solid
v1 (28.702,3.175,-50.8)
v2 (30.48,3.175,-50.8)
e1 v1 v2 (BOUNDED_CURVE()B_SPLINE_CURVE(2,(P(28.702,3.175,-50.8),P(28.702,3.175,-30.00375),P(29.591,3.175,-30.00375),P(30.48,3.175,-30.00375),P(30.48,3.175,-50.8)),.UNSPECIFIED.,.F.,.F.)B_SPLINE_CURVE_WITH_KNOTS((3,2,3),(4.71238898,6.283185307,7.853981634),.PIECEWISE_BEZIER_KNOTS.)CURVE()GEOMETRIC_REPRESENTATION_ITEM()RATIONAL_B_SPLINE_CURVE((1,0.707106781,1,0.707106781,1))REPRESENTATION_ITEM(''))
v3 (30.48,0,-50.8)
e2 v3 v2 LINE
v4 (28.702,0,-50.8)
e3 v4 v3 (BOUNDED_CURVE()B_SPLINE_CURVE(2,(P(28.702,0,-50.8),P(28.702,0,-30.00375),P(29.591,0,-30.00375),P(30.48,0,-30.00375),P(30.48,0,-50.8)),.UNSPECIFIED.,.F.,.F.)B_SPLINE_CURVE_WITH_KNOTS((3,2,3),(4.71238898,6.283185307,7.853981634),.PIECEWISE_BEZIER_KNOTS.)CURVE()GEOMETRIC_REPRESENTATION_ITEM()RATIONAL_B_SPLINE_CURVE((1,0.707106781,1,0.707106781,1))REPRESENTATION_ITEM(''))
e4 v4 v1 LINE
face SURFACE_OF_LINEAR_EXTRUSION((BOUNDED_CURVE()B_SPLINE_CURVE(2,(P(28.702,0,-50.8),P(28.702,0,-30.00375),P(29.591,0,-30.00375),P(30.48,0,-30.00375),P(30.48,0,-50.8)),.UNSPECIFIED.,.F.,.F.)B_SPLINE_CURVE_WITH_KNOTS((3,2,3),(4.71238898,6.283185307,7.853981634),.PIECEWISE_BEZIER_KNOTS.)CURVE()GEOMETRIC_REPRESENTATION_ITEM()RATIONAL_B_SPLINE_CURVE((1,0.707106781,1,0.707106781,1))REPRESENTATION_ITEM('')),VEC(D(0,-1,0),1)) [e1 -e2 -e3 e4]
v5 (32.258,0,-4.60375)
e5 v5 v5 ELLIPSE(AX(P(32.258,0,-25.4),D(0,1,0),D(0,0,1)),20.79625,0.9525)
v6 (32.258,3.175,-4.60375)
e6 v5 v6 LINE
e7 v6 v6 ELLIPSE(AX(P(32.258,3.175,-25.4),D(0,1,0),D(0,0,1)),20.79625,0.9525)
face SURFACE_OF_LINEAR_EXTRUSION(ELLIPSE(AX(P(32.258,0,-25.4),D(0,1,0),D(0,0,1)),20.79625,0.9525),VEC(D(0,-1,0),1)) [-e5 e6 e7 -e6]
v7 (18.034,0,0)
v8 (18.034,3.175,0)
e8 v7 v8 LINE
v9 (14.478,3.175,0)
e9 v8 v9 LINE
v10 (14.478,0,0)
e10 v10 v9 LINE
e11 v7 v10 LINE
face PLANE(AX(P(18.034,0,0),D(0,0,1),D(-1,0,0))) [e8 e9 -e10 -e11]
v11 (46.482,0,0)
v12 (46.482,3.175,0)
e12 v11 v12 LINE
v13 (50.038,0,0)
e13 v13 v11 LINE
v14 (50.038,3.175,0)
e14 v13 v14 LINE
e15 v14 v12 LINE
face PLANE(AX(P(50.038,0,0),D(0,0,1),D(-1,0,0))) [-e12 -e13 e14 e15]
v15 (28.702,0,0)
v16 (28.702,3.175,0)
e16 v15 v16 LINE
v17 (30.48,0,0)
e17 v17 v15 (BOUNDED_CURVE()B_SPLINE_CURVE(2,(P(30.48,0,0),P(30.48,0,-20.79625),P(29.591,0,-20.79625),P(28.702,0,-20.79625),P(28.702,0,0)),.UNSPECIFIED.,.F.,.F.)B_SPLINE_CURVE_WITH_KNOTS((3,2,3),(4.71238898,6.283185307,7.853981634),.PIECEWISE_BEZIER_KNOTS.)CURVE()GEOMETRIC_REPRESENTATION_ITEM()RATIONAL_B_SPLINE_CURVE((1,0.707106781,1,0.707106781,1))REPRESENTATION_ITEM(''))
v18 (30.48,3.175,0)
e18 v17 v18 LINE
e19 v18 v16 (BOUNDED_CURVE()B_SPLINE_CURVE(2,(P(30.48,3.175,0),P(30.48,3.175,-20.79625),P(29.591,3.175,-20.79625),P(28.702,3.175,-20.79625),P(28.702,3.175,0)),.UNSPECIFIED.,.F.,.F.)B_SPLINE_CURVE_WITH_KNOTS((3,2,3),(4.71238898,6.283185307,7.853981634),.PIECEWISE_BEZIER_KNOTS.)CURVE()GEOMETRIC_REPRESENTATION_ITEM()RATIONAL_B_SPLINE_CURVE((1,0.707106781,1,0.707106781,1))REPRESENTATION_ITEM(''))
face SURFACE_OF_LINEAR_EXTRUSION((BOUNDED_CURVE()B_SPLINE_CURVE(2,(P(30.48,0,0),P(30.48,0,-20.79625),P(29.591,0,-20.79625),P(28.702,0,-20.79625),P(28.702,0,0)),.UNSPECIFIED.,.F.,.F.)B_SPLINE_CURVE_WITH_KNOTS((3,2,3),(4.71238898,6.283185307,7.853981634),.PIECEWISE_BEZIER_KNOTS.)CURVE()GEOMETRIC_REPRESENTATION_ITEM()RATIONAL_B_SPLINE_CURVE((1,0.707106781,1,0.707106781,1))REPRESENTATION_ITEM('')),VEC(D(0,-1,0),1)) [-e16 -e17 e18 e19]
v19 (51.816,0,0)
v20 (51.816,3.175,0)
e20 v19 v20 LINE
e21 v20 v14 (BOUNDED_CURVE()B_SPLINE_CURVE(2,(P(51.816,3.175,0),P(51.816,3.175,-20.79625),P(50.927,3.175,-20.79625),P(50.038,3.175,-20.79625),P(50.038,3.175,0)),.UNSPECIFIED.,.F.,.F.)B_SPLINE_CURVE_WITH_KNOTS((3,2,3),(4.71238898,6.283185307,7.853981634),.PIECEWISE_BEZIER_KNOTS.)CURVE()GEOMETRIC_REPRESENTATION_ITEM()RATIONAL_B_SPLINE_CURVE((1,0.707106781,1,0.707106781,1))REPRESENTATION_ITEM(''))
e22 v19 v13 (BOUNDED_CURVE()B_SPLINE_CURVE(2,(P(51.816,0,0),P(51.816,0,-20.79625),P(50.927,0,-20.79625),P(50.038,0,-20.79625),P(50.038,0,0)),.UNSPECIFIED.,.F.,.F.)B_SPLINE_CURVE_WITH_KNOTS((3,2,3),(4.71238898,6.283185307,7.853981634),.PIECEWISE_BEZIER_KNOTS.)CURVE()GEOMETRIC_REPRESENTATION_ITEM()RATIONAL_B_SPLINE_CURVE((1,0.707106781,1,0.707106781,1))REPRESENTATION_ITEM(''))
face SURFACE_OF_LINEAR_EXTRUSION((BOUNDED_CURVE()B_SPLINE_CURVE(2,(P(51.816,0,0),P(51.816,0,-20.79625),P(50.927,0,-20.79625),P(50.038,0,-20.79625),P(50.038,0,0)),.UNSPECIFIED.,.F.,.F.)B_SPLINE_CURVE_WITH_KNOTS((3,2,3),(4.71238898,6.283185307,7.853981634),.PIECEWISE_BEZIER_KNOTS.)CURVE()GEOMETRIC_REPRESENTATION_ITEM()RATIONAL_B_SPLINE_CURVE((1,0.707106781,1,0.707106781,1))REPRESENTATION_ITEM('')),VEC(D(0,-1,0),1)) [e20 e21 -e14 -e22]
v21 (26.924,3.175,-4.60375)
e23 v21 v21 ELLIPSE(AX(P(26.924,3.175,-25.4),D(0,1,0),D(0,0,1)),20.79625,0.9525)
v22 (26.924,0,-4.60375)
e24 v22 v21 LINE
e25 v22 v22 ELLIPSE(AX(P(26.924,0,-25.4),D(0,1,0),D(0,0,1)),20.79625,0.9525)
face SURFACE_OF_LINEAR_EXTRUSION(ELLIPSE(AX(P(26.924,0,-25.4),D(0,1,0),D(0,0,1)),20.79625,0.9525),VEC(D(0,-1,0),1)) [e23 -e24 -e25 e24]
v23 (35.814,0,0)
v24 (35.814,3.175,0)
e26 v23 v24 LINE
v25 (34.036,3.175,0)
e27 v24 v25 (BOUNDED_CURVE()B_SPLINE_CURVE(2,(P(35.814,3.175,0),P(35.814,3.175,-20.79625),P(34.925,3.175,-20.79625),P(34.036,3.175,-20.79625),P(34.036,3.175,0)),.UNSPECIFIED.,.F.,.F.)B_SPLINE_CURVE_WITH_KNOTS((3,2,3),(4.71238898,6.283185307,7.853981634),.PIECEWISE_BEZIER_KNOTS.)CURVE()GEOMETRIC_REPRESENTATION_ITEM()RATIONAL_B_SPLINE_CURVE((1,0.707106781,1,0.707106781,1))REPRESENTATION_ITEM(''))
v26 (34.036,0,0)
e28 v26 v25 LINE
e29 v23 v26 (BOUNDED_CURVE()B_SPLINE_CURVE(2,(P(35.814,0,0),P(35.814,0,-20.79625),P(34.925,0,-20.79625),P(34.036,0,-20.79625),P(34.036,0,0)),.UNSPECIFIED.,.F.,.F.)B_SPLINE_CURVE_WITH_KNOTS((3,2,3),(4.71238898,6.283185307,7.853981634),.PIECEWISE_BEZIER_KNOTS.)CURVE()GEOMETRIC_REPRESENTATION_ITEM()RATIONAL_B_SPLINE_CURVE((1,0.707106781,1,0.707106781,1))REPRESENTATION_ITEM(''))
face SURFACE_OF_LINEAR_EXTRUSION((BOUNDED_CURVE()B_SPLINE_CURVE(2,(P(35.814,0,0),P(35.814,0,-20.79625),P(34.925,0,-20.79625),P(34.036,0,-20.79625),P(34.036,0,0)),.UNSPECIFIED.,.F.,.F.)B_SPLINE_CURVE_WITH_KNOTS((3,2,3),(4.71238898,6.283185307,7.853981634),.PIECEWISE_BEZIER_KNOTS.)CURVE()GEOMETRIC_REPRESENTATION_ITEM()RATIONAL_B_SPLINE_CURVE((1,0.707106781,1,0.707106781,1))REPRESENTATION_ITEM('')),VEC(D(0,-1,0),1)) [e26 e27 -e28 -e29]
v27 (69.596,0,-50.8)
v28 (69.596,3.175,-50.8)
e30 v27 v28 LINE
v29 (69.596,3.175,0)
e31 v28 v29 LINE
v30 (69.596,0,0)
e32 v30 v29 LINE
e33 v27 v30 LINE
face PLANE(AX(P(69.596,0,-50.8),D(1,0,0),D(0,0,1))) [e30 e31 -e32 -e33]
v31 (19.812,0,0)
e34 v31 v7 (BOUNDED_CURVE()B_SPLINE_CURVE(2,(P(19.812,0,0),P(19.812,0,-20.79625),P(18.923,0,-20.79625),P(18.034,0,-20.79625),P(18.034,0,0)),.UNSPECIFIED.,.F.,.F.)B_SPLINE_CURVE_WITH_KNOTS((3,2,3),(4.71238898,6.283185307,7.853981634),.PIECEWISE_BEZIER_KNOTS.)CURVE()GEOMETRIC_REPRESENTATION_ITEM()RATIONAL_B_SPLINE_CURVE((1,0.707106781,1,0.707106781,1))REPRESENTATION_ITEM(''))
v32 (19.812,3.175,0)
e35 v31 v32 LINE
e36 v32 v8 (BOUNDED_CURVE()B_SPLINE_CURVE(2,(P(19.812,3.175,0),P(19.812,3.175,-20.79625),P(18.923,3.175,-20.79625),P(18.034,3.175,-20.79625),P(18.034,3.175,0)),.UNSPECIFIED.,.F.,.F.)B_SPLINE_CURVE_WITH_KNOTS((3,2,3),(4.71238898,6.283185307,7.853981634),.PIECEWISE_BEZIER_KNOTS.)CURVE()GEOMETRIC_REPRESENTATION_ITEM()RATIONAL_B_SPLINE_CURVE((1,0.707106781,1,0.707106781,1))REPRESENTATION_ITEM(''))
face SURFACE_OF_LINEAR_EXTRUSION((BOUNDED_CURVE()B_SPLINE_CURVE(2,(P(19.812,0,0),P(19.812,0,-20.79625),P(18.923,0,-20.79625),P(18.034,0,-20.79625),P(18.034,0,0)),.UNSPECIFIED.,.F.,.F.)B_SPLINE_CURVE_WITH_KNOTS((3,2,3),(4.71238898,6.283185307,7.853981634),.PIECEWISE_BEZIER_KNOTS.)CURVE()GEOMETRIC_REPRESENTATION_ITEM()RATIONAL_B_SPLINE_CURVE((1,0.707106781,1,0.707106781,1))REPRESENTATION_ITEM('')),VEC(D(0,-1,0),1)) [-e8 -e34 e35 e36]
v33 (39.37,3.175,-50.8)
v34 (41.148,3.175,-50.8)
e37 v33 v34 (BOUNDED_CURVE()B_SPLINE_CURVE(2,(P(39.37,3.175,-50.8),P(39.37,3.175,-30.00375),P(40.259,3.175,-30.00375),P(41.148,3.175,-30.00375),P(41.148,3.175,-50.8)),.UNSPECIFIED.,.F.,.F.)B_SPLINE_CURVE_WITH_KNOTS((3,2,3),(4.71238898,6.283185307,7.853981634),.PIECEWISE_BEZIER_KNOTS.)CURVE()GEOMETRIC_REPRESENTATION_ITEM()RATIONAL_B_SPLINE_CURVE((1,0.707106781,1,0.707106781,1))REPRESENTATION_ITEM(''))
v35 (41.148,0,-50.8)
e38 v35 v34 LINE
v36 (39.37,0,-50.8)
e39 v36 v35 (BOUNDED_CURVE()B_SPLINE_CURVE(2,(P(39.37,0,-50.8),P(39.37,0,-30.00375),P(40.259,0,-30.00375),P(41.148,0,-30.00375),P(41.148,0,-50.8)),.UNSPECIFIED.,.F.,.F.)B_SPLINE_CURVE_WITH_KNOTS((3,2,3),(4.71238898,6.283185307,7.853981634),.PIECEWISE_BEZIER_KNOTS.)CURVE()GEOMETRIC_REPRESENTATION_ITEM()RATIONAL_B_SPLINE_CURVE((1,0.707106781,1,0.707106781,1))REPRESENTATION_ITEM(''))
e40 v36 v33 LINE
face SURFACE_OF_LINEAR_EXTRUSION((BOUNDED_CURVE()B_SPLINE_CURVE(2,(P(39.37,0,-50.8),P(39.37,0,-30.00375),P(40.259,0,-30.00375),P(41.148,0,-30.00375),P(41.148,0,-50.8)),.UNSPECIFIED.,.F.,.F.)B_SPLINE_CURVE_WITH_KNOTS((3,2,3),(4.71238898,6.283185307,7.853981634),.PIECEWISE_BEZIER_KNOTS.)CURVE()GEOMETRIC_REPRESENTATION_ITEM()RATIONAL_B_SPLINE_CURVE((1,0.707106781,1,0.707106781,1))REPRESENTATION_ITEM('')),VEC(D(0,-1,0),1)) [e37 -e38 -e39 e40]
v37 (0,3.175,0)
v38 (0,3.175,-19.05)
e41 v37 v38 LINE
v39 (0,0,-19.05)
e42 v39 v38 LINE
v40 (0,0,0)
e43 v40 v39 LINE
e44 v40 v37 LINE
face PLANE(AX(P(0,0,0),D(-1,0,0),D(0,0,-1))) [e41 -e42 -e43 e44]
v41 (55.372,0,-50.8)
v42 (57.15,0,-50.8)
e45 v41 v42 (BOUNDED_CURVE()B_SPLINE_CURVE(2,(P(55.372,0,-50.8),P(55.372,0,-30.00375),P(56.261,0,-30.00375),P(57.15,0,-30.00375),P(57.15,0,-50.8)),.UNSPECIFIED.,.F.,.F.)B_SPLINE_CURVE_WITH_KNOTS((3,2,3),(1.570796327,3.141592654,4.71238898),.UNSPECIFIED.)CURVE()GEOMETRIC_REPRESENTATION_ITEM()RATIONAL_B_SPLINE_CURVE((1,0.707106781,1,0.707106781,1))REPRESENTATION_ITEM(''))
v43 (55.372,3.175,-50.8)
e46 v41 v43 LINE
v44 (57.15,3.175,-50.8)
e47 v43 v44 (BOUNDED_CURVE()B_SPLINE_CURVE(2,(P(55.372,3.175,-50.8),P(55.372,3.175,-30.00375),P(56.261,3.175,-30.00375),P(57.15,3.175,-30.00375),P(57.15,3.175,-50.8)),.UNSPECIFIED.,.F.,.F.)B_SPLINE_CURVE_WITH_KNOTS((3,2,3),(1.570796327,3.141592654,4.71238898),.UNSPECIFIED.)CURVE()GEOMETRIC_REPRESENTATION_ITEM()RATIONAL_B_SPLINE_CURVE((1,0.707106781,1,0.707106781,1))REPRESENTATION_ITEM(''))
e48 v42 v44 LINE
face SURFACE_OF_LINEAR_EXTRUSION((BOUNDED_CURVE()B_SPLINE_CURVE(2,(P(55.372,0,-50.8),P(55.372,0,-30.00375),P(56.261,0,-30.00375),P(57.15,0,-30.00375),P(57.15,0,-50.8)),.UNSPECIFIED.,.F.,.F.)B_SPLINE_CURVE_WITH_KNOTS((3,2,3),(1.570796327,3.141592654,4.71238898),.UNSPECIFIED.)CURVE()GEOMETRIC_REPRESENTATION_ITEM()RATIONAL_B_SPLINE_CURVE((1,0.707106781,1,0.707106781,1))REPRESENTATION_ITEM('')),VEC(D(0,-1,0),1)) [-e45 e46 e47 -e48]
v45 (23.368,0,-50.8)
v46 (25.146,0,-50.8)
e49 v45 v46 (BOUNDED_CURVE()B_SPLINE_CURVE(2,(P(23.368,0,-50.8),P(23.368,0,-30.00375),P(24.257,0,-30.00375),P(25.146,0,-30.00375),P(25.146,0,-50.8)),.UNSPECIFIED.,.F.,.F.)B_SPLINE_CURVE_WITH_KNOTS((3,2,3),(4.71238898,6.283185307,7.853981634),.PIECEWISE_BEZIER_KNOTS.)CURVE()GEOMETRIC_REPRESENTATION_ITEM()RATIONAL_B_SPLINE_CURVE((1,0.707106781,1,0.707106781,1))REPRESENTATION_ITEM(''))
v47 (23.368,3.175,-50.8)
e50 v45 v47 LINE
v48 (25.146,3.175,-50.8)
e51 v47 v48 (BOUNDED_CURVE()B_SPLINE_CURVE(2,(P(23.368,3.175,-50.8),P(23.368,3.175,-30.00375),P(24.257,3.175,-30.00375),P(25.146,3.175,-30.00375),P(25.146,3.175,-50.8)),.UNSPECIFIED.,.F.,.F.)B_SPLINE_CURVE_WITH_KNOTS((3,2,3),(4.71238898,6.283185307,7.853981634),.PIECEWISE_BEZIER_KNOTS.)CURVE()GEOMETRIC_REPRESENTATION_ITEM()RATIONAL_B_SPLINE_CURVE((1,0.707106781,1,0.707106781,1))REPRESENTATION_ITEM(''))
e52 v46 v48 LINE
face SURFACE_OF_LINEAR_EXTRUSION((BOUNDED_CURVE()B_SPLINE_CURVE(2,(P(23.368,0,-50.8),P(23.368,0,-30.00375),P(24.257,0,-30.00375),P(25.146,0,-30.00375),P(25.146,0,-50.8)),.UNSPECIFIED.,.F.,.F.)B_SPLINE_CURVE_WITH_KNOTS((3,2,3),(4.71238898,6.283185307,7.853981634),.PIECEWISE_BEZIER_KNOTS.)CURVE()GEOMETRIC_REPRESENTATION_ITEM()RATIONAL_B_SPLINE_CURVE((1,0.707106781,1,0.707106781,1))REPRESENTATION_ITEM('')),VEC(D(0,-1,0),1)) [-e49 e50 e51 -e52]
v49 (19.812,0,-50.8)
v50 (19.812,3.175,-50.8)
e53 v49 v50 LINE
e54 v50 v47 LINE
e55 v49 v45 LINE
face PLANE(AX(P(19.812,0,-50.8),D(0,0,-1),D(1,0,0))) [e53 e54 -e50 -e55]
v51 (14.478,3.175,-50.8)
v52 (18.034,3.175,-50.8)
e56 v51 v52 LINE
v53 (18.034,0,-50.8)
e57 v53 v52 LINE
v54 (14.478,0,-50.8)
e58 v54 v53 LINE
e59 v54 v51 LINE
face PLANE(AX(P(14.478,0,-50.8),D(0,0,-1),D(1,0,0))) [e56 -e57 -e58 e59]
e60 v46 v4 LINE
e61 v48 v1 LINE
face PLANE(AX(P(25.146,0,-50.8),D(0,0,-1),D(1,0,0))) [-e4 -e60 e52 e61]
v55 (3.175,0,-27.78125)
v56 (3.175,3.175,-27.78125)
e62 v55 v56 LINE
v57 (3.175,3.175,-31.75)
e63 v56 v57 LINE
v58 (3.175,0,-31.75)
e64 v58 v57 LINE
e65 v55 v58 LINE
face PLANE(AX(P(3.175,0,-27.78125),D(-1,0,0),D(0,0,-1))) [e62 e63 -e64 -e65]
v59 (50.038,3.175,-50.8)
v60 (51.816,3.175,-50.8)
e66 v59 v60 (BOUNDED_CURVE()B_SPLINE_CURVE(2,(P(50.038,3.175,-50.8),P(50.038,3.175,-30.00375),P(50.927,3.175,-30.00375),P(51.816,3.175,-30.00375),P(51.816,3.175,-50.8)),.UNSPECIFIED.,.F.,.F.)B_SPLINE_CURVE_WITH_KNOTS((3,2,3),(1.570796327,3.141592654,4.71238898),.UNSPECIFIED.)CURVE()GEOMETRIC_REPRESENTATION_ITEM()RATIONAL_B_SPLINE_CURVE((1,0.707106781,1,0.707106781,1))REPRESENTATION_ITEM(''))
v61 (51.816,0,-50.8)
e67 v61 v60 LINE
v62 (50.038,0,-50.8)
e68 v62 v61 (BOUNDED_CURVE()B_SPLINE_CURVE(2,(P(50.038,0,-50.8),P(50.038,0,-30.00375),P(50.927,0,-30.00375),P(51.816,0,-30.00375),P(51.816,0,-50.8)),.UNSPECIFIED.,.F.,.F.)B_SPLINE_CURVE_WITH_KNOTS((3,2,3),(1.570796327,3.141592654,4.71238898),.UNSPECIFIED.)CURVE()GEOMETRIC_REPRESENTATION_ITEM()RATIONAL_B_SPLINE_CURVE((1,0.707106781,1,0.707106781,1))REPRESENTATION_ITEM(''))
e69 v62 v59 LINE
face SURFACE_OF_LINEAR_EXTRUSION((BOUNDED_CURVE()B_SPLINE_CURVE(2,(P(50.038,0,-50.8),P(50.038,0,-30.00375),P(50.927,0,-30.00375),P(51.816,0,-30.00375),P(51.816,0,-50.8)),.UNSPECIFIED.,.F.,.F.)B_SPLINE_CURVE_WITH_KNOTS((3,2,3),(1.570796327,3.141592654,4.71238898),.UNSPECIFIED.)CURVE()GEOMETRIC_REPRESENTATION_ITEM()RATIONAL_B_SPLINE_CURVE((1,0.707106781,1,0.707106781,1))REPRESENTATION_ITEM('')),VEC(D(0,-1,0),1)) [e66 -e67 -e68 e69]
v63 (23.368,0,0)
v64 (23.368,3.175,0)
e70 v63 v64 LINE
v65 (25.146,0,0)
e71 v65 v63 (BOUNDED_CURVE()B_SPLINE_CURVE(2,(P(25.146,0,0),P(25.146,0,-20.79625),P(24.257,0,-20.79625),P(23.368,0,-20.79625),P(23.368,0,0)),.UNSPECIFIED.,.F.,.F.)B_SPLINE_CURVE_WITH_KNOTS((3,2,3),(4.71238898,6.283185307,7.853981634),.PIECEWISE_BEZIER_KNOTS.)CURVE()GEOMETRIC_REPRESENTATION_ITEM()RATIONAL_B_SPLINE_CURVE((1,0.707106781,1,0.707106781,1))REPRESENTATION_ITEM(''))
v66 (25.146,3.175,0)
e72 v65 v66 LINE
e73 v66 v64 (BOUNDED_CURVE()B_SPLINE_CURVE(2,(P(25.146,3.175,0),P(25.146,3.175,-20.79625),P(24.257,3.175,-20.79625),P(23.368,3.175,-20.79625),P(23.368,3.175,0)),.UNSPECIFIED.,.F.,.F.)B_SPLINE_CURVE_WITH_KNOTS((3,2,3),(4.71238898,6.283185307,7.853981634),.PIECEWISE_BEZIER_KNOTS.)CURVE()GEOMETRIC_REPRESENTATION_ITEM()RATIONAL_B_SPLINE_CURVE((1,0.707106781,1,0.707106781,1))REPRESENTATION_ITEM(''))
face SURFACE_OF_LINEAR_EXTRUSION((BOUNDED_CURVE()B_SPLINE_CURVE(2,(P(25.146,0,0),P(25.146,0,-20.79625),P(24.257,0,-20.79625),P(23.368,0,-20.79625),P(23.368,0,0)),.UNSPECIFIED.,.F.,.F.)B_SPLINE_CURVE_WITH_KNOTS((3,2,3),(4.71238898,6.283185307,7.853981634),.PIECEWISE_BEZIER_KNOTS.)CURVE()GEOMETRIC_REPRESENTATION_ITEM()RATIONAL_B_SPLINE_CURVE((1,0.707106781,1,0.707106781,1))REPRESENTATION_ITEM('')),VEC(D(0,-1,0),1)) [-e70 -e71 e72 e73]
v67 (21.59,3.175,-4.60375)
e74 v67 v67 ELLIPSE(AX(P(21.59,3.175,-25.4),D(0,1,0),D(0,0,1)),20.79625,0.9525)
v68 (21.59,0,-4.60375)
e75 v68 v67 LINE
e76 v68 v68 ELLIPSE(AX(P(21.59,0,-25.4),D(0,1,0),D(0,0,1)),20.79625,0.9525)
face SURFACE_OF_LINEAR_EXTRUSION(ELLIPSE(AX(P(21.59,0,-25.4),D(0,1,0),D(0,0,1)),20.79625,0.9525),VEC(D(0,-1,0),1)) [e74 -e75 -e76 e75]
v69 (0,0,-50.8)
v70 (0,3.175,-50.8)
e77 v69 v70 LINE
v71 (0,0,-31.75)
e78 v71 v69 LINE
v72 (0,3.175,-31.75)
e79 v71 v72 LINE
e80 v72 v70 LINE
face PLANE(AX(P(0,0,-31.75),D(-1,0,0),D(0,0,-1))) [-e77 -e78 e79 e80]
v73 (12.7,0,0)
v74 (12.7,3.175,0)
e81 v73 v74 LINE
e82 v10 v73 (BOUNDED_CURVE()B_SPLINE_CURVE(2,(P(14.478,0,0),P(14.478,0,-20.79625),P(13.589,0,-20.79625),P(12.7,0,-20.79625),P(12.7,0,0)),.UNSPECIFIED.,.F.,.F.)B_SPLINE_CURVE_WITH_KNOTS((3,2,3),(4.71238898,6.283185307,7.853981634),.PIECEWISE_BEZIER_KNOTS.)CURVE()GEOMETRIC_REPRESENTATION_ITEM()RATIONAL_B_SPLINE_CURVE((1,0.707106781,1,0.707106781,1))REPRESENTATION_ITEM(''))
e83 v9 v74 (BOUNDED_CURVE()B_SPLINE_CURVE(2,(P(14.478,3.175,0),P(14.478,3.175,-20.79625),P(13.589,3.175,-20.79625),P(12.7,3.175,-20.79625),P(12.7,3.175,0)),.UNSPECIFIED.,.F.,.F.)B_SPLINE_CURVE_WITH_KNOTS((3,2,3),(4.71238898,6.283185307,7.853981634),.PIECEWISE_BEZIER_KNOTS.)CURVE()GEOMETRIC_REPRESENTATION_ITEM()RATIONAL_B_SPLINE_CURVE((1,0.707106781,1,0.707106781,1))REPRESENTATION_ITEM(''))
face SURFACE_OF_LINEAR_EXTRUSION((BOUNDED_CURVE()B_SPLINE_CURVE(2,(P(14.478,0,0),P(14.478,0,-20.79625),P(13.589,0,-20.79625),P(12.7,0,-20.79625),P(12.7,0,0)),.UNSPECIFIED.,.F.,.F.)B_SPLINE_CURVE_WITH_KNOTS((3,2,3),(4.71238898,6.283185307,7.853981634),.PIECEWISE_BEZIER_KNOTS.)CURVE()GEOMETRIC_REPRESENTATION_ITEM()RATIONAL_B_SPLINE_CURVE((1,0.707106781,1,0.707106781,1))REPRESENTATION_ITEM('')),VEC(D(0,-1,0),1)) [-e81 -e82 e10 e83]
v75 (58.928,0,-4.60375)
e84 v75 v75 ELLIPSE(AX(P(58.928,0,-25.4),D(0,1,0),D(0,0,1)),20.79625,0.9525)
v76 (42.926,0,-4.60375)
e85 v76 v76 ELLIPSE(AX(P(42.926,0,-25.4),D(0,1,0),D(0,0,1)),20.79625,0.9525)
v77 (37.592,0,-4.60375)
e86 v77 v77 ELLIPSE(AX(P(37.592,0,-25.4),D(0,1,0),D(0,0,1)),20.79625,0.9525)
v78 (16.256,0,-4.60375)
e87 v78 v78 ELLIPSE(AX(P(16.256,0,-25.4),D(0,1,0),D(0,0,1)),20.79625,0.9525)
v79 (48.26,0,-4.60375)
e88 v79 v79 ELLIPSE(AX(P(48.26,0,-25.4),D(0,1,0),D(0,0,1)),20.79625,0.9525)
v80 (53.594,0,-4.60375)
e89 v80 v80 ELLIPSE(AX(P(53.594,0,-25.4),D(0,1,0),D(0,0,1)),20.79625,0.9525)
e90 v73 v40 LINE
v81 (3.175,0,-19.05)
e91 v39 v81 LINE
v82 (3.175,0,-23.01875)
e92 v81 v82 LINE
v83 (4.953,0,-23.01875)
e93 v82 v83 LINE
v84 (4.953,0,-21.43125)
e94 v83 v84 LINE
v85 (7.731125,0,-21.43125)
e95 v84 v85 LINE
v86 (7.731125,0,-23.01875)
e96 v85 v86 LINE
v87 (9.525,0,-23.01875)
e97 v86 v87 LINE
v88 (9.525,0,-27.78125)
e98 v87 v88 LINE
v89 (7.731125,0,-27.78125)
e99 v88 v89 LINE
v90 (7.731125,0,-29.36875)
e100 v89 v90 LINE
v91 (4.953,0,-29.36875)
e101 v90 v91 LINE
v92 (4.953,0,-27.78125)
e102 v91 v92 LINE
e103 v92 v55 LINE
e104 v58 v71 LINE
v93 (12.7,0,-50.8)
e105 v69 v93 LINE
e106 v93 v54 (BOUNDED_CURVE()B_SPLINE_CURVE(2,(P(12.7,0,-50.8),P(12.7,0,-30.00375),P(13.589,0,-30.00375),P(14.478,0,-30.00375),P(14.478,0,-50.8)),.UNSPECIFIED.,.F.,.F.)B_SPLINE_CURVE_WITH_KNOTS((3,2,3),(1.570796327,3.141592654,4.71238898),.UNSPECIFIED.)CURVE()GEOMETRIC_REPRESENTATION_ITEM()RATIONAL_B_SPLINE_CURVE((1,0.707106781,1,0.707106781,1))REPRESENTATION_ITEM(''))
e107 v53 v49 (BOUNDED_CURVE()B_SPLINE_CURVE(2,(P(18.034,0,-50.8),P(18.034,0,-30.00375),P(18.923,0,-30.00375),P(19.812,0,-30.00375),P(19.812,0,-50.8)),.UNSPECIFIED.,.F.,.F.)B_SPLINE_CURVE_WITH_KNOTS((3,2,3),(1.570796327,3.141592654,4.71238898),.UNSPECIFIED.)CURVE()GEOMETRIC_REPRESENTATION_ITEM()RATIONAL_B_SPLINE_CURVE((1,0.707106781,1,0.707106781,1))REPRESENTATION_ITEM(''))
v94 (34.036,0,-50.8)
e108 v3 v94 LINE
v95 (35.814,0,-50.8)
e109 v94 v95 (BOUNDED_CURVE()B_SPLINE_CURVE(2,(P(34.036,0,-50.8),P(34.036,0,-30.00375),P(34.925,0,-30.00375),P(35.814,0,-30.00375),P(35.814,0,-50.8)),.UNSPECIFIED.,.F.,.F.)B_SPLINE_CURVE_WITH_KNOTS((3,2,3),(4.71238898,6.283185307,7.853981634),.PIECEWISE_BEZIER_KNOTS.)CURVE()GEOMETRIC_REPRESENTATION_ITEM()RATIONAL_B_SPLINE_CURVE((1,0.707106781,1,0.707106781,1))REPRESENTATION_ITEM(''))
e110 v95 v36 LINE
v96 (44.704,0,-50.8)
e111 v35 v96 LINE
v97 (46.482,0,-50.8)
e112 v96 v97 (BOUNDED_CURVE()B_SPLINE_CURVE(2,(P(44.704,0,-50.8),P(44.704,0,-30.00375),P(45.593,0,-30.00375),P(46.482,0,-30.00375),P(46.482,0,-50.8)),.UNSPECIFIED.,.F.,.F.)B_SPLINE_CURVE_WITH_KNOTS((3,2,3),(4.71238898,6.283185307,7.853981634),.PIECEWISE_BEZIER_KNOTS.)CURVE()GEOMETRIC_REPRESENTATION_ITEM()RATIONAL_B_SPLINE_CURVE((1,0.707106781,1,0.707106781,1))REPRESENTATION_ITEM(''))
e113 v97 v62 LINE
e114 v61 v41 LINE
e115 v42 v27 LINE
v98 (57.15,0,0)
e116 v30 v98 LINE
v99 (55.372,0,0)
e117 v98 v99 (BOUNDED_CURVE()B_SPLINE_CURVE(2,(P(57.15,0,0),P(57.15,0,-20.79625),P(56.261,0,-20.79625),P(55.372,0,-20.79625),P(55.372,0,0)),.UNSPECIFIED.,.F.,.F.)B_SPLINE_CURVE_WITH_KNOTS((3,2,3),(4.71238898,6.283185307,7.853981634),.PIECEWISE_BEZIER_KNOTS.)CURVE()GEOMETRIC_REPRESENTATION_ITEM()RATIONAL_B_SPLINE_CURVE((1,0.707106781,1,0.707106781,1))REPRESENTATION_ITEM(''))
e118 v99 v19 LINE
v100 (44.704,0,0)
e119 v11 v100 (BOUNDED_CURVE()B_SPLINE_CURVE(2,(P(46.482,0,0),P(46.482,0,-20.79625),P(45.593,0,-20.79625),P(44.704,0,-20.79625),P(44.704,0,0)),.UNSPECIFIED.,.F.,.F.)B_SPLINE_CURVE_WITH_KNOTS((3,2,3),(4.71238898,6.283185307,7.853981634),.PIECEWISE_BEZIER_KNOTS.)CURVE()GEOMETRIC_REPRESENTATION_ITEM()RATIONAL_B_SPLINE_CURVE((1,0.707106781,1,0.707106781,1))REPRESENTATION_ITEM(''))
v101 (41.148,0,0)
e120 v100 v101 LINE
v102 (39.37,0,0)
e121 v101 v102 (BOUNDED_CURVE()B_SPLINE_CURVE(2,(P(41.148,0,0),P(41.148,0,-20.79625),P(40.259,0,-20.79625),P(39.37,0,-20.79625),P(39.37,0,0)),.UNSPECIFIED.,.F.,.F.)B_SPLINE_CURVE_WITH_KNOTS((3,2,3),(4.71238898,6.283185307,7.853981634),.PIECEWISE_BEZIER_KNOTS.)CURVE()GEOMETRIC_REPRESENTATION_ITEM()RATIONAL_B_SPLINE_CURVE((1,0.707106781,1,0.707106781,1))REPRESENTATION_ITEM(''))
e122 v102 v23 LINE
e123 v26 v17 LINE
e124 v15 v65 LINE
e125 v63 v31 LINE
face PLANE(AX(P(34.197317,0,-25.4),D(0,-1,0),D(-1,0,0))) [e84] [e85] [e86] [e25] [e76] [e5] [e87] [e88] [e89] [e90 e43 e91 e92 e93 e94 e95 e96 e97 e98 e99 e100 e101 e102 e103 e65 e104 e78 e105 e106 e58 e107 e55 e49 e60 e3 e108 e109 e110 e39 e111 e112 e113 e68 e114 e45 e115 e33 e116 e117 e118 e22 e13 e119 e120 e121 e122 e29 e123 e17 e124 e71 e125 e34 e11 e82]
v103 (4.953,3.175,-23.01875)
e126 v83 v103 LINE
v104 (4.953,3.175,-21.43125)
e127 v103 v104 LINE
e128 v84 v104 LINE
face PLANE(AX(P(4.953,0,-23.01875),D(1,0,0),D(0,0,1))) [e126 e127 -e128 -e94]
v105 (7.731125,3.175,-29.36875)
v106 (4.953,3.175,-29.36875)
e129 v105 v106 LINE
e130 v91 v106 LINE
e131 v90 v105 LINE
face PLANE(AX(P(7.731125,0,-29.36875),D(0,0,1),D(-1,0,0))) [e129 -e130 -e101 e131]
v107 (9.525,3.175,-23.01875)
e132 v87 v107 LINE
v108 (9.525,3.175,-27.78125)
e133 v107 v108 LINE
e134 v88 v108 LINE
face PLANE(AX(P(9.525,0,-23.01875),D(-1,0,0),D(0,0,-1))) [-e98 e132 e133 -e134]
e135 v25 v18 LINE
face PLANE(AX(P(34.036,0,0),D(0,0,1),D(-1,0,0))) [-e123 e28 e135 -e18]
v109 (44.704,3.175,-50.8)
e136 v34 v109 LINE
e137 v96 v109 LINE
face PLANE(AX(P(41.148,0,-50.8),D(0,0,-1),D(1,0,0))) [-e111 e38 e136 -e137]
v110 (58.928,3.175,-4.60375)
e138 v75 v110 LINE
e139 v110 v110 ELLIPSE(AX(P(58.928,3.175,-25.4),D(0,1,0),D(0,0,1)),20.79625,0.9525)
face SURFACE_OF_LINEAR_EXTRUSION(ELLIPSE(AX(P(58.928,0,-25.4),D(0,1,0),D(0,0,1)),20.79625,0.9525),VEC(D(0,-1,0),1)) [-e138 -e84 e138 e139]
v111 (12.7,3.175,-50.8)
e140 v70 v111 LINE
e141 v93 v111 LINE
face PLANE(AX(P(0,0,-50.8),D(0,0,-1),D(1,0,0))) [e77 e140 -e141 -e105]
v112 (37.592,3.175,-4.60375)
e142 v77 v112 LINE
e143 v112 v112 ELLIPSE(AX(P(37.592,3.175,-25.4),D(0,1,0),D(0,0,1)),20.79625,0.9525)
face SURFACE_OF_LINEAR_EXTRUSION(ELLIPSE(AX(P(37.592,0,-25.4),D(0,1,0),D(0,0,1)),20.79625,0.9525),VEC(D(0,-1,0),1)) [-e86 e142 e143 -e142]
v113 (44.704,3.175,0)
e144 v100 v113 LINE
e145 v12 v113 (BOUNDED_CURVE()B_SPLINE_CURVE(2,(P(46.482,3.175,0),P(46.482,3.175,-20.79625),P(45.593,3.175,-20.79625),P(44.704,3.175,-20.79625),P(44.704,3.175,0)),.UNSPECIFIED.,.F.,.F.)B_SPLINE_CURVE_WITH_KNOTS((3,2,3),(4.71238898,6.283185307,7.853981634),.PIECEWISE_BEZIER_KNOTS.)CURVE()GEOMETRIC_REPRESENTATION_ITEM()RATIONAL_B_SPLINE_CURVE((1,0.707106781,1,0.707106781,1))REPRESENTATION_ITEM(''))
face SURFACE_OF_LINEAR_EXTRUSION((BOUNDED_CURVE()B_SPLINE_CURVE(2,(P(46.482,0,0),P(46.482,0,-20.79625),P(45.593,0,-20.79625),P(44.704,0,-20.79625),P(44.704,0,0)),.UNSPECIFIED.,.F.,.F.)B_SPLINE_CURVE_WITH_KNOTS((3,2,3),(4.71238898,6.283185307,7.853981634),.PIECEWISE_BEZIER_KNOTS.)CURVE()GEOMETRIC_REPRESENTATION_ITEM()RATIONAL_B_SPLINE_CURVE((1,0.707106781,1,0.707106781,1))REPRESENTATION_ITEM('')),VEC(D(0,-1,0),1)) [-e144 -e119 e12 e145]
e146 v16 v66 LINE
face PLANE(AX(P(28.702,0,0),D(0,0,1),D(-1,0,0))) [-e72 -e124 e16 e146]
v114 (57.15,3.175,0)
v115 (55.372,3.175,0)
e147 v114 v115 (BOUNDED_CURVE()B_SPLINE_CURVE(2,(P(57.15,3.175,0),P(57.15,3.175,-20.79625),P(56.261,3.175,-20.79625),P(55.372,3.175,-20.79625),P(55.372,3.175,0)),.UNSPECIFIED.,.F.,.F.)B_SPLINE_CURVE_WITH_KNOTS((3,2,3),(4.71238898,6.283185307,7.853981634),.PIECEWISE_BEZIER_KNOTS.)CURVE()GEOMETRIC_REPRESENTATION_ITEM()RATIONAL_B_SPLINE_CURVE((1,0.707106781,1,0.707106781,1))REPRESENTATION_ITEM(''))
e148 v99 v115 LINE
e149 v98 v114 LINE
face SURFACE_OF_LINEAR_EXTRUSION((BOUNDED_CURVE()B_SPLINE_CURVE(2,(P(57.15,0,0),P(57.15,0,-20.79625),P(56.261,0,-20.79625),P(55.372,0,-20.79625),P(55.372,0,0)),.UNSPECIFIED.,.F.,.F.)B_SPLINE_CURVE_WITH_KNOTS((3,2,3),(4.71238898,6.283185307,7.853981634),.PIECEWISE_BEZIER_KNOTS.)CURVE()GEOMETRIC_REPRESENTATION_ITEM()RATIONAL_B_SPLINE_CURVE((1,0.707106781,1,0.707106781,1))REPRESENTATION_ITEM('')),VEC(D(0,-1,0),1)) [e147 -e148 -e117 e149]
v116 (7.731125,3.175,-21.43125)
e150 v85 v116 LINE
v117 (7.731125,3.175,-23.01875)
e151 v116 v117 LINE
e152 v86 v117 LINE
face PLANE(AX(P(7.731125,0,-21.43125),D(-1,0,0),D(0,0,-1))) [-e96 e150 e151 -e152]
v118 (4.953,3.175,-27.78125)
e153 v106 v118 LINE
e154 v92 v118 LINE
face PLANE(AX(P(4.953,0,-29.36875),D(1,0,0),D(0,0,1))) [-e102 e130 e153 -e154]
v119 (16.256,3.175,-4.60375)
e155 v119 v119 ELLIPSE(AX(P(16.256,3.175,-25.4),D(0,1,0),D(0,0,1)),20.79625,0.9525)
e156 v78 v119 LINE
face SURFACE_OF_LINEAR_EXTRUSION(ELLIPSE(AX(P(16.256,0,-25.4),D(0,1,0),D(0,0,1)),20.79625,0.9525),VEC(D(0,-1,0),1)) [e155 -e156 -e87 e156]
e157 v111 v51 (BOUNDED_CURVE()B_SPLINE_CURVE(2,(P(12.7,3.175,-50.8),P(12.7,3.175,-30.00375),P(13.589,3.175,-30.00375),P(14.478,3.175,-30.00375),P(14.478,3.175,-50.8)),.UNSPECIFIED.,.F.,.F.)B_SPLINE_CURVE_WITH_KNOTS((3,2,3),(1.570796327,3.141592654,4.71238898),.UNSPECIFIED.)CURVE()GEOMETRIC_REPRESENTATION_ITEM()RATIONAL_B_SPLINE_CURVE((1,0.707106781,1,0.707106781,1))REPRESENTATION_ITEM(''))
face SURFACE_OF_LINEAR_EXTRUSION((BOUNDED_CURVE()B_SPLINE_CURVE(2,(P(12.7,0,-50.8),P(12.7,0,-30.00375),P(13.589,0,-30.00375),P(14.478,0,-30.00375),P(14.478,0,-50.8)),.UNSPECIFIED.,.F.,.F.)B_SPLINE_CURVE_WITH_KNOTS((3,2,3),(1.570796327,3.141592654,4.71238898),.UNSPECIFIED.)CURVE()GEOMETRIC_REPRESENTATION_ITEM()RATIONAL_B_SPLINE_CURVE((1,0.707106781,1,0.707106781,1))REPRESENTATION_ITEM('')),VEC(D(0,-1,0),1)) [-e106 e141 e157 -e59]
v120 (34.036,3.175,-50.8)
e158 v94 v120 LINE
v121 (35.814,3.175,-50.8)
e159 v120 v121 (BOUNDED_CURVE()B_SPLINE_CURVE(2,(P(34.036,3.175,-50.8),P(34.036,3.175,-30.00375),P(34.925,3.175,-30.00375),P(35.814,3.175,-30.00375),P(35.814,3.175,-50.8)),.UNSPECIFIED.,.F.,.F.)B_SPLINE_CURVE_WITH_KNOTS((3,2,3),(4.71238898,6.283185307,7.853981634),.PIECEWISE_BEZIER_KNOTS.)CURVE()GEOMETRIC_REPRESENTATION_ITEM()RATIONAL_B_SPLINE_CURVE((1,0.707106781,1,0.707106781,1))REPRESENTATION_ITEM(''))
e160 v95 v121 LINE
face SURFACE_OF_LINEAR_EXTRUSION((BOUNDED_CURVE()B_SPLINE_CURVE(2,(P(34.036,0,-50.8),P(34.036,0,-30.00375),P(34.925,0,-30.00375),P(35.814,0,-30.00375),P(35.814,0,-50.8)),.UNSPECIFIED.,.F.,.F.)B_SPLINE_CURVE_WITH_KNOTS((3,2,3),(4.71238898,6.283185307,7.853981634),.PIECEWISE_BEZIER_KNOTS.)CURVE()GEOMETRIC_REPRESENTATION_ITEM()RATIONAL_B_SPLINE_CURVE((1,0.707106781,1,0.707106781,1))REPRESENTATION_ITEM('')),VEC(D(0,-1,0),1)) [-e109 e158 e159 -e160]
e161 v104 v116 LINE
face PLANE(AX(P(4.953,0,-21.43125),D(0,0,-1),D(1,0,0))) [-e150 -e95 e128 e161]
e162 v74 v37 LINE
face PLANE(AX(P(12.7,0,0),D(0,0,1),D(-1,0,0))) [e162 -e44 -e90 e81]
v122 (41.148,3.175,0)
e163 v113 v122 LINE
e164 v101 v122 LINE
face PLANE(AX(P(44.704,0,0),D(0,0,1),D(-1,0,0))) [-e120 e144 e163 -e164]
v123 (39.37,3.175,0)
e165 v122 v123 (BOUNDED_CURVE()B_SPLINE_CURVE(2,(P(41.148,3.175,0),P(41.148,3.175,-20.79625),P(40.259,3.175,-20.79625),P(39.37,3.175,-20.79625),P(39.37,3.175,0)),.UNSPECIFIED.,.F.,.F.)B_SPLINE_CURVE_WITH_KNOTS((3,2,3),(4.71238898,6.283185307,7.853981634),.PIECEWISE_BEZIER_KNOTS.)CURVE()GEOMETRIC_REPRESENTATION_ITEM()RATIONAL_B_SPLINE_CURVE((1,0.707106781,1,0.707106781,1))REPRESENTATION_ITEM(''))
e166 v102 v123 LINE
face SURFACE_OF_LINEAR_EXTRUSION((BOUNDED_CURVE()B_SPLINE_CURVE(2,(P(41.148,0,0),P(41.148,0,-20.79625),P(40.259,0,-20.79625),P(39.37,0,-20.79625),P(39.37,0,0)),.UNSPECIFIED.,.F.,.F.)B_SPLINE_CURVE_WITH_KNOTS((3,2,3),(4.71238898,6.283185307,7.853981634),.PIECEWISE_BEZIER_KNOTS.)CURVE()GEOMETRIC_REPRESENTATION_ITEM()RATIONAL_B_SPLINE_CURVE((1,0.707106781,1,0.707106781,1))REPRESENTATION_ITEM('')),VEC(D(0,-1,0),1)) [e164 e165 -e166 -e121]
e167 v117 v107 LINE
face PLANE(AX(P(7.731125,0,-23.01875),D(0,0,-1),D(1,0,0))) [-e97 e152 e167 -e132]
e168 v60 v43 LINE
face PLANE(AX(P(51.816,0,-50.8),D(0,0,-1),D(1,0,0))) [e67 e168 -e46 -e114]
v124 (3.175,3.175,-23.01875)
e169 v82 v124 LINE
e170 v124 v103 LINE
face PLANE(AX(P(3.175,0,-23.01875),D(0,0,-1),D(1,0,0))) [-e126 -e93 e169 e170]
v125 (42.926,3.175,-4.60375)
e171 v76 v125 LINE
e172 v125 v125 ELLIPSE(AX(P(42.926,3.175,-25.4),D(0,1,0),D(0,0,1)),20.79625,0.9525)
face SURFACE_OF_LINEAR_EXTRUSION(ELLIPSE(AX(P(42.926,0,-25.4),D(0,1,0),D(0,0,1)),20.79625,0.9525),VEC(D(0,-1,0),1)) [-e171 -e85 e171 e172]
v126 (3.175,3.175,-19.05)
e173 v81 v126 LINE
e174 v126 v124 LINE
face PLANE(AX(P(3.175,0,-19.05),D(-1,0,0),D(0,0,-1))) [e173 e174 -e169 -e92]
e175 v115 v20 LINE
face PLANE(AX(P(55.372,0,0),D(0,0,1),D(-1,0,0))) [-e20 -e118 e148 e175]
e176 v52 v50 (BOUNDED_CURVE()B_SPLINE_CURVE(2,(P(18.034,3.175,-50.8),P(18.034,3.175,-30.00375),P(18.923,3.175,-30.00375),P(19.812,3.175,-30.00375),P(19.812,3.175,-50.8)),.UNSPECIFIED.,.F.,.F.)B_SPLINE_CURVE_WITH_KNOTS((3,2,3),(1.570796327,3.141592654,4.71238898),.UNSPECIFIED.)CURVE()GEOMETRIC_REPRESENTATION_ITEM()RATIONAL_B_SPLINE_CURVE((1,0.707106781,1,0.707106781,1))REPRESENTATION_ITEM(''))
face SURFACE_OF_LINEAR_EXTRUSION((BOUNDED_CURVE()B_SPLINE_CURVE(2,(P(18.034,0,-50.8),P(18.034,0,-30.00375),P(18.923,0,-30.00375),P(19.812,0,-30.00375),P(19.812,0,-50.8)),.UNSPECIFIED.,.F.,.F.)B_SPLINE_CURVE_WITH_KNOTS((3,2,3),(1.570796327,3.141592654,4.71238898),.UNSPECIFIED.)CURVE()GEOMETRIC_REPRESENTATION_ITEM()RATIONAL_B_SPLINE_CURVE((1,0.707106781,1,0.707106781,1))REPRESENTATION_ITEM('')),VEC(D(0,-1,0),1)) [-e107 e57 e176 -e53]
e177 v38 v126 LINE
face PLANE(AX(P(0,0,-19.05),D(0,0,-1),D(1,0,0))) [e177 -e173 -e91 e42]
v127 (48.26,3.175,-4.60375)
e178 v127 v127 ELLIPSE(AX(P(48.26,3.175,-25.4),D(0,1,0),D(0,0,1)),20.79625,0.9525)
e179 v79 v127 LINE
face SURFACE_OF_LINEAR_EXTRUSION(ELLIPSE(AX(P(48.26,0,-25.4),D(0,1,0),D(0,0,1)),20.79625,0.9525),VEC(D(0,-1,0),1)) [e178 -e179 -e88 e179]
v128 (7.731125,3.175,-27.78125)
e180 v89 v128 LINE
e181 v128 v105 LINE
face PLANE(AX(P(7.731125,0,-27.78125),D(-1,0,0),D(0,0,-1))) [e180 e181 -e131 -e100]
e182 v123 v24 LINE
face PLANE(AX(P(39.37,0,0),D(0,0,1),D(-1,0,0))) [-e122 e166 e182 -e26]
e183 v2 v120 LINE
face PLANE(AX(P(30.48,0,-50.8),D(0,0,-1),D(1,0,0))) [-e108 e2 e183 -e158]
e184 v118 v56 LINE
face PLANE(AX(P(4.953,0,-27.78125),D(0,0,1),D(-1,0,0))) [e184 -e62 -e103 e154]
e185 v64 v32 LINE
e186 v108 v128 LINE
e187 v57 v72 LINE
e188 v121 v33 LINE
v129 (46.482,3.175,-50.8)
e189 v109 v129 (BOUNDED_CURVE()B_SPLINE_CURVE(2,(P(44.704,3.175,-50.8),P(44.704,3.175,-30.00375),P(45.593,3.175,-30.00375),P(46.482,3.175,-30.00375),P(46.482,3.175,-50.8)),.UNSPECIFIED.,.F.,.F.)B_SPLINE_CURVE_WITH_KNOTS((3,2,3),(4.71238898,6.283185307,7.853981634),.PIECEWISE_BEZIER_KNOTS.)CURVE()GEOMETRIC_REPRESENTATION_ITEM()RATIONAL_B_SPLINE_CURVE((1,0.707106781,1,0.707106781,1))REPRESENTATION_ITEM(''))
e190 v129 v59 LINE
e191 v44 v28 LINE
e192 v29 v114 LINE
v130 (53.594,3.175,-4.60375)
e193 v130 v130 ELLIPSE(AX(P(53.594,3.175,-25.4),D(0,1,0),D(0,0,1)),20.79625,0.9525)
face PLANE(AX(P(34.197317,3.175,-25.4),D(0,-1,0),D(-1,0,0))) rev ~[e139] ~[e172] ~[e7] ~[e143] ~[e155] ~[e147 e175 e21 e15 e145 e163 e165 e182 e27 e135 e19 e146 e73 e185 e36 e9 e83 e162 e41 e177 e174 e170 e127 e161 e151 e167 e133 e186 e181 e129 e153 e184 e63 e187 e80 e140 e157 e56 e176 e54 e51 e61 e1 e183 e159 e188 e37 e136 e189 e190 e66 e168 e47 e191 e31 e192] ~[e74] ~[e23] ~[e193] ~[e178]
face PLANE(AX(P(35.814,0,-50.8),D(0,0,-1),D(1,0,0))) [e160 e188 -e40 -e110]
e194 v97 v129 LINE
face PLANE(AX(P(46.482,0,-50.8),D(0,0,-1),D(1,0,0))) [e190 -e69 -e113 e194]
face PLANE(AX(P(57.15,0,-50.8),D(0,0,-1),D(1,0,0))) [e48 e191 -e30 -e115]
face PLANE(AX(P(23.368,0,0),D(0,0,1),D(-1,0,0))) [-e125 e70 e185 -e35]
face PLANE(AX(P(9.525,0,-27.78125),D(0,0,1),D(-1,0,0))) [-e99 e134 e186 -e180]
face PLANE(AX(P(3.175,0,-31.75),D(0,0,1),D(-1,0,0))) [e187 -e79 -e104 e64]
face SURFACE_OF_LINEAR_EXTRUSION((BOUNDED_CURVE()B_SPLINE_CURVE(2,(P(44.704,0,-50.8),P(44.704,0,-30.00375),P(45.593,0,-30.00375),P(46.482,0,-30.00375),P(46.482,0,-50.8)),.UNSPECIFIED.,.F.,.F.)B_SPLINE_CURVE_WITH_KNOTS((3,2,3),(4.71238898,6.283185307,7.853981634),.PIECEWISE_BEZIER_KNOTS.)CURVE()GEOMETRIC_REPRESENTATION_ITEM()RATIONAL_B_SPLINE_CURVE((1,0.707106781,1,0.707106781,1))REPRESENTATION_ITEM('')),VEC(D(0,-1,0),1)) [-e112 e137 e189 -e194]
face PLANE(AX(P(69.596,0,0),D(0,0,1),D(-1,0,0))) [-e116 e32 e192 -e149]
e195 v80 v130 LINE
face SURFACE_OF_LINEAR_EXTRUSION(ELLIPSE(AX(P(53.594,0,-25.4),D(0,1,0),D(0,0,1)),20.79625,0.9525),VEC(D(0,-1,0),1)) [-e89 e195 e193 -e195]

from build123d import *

# Parameters (mm, degrees)
SKETCH1_RX          = 20.79625
SKETCH1_RY          = 0.9525
BOSS_EXTRUDE1_DEPTH = 3.175


with BuildPart() as part:
    # Sketch1 → Boss-Extrude1 (new body)
    with BuildSketch(Plane(origin=(0, 0, 0), x_dir=(1, 0, 0), z_dir=(0, 1, 0))):
        with BuildLine():
            Line((0, 19.05), (3.175, 19.05))
            Line((3.175, 19.05), (3.175, 23.01875))
            Line((3.175, 23.01875), (4.953, 23.01875))
            Line((4.953, 23.01875), (4.953, 21.43125))
            Line((4.953, 21.43125), (7.731125, 21.43125))
            Line((7.731125, 21.43125), (7.731125, 23.01875))
            Line((7.731125, 23.01875), (9.525, 23.01875))
            Line((9.525, 23.01875), (9.525, 27.78125))
            Line((9.525, 27.78125), (7.731125, 27.78125))
            Line((7.731125, 27.78125), (7.731125, 29.36875))
            Line((7.731125, 29.36875), (4.953, 29.36875))
            Line((4.953, 29.36875), (4.953, 27.78125))
            Line((4.953, 27.78125), (3.175, 27.78125))
            Line((3.175, 27.78125), (3.175, 31.75))
            Line((3.175, 31.75), (0, 31.75))
            Line((0, 31.75), (0, 50.8))
            Line((0, 50.8), (12.7, 50.8))
            add(Edge.make_bspline(
                [(12.7, 50.8), (12.7, 30.00375), (13.589, 30.00375), (14.478, 30.00375), (14.478, 50.8)],
                knots=[1.570796327, 1.570796327, 1.570796327, 3.141592654, 3.141592654, 4.71238898, 4.71238898, 4.71238898], degree=2, weights=[1, 0.707106781, 1, 0.707106781, 1]))
            Line((14.478, 50.8), (18.034, 50.8))
            add(Edge.make_bspline(
                [(18.034, 50.8), (18.034, 30.00375), (18.923, 30.00375), (19.812, 30.00375), (19.812, 50.8)],
                knots=[1.570796327, 1.570796327, 1.570796327, 3.141592654, 3.141592654, 4.71238898, 4.71238898, 4.71238898], degree=2, weights=[1, 0.707106781, 1, 0.707106781, 1]))
            Line((19.812, 50.8), (23.368, 50.8))
            add(Edge.make_bspline(
                [(23.368, 50.8), (23.368, 30.00375), (24.257, 30.00375), (25.146, 30.00375), (25.146, 50.8)],
                knots=[4.71238898, 4.71238898, 4.71238898, 6.283185307, 6.283185307, 7.853981634, 7.853981634, 7.853981634], degree=2, weights=[1, 0.707106781, 1, 0.707106781, 1]))
            Line((25.146, 50.8), (28.702, 50.8))
            add(Edge.make_bspline(
                [(28.702, 50.8), (28.702, 30.00375), (29.591, 30.00375), (30.48, 30.00375), (30.48, 50.8)],
                knots=[4.71238898, 4.71238898, 4.71238898, 6.283185307, 6.283185307, 7.853981634, 7.853981634, 7.853981634], degree=2, weights=[1, 0.707106781, 1, 0.707106781, 1]))
            Line((30.48, 50.8), (34.036, 50.8))
            add(Edge.make_bspline(
                [(34.036, 50.8), (34.036, 30.00375), (34.925, 30.00375), (35.814, 30.00375), (35.814, 50.8)],
                knots=[4.71238898, 4.71238898, 4.71238898, 6.283185307, 6.283185307, 7.853981634, 7.853981634, 7.853981634], degree=2, weights=[1, 0.707106781, 1, 0.707106781, 1]))
            Line((35.814, 50.8), (39.37, 50.8))
            add(Edge.make_bspline(
                [(39.37, 50.8), (39.37, 30.00375), (40.259, 30.00375), (41.148, 30.00375), (41.148, 50.8)],
                knots=[4.71238898, 4.71238898, 4.71238898, 6.283185307, 6.283185307, 7.853981634, 7.853981634, 7.853981634], degree=2, weights=[1, 0.707106781, 1, 0.707106781, 1]))
            Line((41.148, 50.8), (44.704, 50.8))
            add(Edge.make_bspline(
                [(44.704, 50.8), (44.704, 30.00375), (45.593, 30.00375), (46.482, 30.00375), (46.482, 50.8)],
                knots=[4.71238898, 4.71238898, 4.71238898, 6.283185307, 6.283185307, 7.853981634, 7.853981634, 7.853981634], degree=2, weights=[1, 0.707106781, 1, 0.707106781, 1]))
            Line((46.482, 50.8), (50.038, 50.8))
            add(Edge.make_bspline(
                [(50.038, 50.8), (50.038, 30.00375), (50.927, 30.00375), (51.816, 30.00375), (51.816, 50.8)],
                knots=[1.570796327, 1.570796327, 1.570796327, 3.141592654, 3.141592654, 4.71238898, 4.71238898, 4.71238898], degree=2, weights=[1, 0.707106781, 1, 0.707106781, 1]))
            Line((51.816, 50.8), (55.372, 50.8))
            add(Edge.make_bspline(
                [(55.372, 50.8), (55.372, 30.00375), (56.261, 30.00375), (57.15, 30.00375), (57.15, 50.8)],
                knots=[1.570796327, 1.570796327, 1.570796327, 3.141592654, 3.141592654, 4.71238898, 4.71238898, 4.71238898], degree=2, weights=[1, 0.707106781, 1, 0.707106781, 1]))
            Line((57.15, 50.8), (60.706, 50.8))
            Line((60.706, 50.8), (69.596, 50.8))
            Line((69.596, 50.8), (69.596, 0))
            Line((69.596, 0), (60.706, 0))
            Line((60.706, 0), (57.15, 0))
            add(Edge.make_bspline(
                [(57.15, 0), (57.15, 20.79625), (56.261, 20.79625), (55.372, 20.79625), (55.372, 0)],
                knots=[4.71238898, 4.71238898, 4.71238898, 6.283185307, 6.283185307, 7.853981634, 7.853981634, 7.853981634], degree=2, weights=[1, 0.707106781, 1, 0.707106781, 1]))
            Line((55.372, 0), (51.816, 0))
            add(Edge.make_bspline(
                [(51.816, 0), (51.816, 20.79625), (50.927, 20.79625), (50.038, 20.79625), (50.038, 0)],
                knots=[4.71238898, 4.71238898, 4.71238898, 6.283185307, 6.283185307, 7.853981634, 7.853981634, 7.853981634], degree=2, weights=[1, 0.707106781, 1, 0.707106781, 1]))
            Line((50.038, 0), (46.482, 0))
            add(Edge.make_bspline(
                [(46.482, 0), (46.482, 20.79625), (45.593, 20.79625), (44.704, 20.79625), (44.704, 0)],
                knots=[4.71238898, 4.71238898, 4.71238898, 6.283185307, 6.283185307, 7.853981634, 7.853981634, 7.853981634], degree=2, weights=[1, 0.707106781, 1, 0.707106781, 1]))
            Line((44.704, 0), (41.148, 0))
            add(Edge.make_bspline(
                [(41.148, 0), (41.148, 20.79625), (40.259, 20.79625), (39.37, 20.79625), (39.37, 0)],
                knots=[4.71238898, 4.71238898, 4.71238898, 6.283185307, 6.283185307, 7.853981634, 7.853981634, 7.853981634], degree=2, weights=[1, 0.707106781, 1, 0.707106781, 1]))
            Line((39.37, 0), (35.814, 0))
            add(Edge.make_bspline(
                [(35.814, 0), (35.814, 20.79625), (34.925, 20.79625), (34.036, 20.79625), (34.036, 0)],
                knots=[4.71238898, 4.71238898, 4.71238898, 6.283185307, 6.283185307, 7.853981634, 7.853981634, 7.853981634], degree=2, weights=[1, 0.707106781, 1, 0.707106781, 1]))
            Line((34.036, 0), (30.48, 0))
            add(Edge.make_bspline(
                [(30.48, 0), (30.48, 20.79625), (29.591, 20.79625), (28.702, 20.79625), (28.702, 0)],
                knots=[4.71238898, 4.71238898, 4.71238898, 6.283185307, 6.283185307, 7.853981634, 7.853981634, 7.853981634], degree=2, weights=[1, 0.707106781, 1, 0.707106781, 1]))
            Line((28.702, 0), (25.146, 0))
            add(Edge.make_bspline(
                [(25.146, 0), (25.146, 20.79625), (24.257, 20.79625), (23.368, 20.79625), (23.368, 0)],
                knots=[4.71238898, 4.71238898, 4.71238898, 6.283185307, 6.283185307, 7.853981634, 7.853981634, 7.853981634], degree=2, weights=[1, 0.707106781, 1, 0.707106781, 1]))
            Line((23.368, 0), (19.812, 0))
            add(Edge.make_bspline(
                [(19.812, 0), (19.812, 20.79625), (18.923, 20.79625), (18.034, 20.79625), (18.034, 0)],
                knots=[4.71238898, 4.71238898, 4.71238898, 6.283185307, 6.283185307, 7.853981634, 7.853981634, 7.853981634], degree=2, weights=[1, 0.707106781, 1, 0.707106781, 1]))
            Line((18.034, 0), (14.478, 0))
            add(Edge.make_bspline(
                [(14.478, 0), (14.478, 20.79625), (13.589, 20.79625), (12.7, 20.79625), (12.7, 0)],
                knots=[4.71238898, 4.71238898, 4.71238898, 6.283185307, 6.283185307, 7.853981634, 7.853981634, 7.853981634], degree=2, weights=[1, 0.707106781, 1, 0.707106781, 1]))
            Line((12.7, 0), (0, 0))
            Line((0, 0), (0, 19.05))
        make_face()
        with Locations(Location((16.256, 25.4), (0, 0, -90))):
            Ellipse(SKETCH1_RX, SKETCH1_RY, mode=Mode.SUBTRACT)
        with Locations(Location((21.59, 25.4), (0, 0, -90))):
            Ellipse(SKETCH1_RX, SKETCH1_RY, mode=Mode.SUBTRACT)
        with Locations(Location((26.924, 25.4), (0, 0, -90))):
            Ellipse(SKETCH1_RX, SKETCH1_RY, mode=Mode.SUBTRACT)
        with Locations(Location((32.258, 25.4), (0, 0, -90))):
            Ellipse(SKETCH1_RX, SKETCH1_RY, mode=Mode.SUBTRACT)
        with Locations(Location((37.592, 25.4), (0, 0, -90))):
            Ellipse(SKETCH1_RX, SKETCH1_RY, mode=Mode.SUBTRACT)
        with Locations(Location((42.926, 25.4), (0, 0, -90))):
            Ellipse(SKETCH1_RX, SKETCH1_RY, mode=Mode.SUBTRACT)
        with Locations(Location((48.26, 25.4), (0, 0, -90))):
            Ellipse(SKETCH1_RX, SKETCH1_RY, mode=Mode.SUBTRACT)
        with Locations(Location((53.594, 25.4), (0, 0, -90))):
            Ellipse(SKETCH1_RX, SKETCH1_RY, mode=Mode.SUBTRACT)
        with Locations(Location((58.928, 25.4), (0, 0, -90))):
            Ellipse(SKETCH1_RX, SKETCH1_RY, mode=Mode.SUBTRACT)
    extrude(amount=BOSS_EXTRUDE1_DEPTH)


solid = part.part
